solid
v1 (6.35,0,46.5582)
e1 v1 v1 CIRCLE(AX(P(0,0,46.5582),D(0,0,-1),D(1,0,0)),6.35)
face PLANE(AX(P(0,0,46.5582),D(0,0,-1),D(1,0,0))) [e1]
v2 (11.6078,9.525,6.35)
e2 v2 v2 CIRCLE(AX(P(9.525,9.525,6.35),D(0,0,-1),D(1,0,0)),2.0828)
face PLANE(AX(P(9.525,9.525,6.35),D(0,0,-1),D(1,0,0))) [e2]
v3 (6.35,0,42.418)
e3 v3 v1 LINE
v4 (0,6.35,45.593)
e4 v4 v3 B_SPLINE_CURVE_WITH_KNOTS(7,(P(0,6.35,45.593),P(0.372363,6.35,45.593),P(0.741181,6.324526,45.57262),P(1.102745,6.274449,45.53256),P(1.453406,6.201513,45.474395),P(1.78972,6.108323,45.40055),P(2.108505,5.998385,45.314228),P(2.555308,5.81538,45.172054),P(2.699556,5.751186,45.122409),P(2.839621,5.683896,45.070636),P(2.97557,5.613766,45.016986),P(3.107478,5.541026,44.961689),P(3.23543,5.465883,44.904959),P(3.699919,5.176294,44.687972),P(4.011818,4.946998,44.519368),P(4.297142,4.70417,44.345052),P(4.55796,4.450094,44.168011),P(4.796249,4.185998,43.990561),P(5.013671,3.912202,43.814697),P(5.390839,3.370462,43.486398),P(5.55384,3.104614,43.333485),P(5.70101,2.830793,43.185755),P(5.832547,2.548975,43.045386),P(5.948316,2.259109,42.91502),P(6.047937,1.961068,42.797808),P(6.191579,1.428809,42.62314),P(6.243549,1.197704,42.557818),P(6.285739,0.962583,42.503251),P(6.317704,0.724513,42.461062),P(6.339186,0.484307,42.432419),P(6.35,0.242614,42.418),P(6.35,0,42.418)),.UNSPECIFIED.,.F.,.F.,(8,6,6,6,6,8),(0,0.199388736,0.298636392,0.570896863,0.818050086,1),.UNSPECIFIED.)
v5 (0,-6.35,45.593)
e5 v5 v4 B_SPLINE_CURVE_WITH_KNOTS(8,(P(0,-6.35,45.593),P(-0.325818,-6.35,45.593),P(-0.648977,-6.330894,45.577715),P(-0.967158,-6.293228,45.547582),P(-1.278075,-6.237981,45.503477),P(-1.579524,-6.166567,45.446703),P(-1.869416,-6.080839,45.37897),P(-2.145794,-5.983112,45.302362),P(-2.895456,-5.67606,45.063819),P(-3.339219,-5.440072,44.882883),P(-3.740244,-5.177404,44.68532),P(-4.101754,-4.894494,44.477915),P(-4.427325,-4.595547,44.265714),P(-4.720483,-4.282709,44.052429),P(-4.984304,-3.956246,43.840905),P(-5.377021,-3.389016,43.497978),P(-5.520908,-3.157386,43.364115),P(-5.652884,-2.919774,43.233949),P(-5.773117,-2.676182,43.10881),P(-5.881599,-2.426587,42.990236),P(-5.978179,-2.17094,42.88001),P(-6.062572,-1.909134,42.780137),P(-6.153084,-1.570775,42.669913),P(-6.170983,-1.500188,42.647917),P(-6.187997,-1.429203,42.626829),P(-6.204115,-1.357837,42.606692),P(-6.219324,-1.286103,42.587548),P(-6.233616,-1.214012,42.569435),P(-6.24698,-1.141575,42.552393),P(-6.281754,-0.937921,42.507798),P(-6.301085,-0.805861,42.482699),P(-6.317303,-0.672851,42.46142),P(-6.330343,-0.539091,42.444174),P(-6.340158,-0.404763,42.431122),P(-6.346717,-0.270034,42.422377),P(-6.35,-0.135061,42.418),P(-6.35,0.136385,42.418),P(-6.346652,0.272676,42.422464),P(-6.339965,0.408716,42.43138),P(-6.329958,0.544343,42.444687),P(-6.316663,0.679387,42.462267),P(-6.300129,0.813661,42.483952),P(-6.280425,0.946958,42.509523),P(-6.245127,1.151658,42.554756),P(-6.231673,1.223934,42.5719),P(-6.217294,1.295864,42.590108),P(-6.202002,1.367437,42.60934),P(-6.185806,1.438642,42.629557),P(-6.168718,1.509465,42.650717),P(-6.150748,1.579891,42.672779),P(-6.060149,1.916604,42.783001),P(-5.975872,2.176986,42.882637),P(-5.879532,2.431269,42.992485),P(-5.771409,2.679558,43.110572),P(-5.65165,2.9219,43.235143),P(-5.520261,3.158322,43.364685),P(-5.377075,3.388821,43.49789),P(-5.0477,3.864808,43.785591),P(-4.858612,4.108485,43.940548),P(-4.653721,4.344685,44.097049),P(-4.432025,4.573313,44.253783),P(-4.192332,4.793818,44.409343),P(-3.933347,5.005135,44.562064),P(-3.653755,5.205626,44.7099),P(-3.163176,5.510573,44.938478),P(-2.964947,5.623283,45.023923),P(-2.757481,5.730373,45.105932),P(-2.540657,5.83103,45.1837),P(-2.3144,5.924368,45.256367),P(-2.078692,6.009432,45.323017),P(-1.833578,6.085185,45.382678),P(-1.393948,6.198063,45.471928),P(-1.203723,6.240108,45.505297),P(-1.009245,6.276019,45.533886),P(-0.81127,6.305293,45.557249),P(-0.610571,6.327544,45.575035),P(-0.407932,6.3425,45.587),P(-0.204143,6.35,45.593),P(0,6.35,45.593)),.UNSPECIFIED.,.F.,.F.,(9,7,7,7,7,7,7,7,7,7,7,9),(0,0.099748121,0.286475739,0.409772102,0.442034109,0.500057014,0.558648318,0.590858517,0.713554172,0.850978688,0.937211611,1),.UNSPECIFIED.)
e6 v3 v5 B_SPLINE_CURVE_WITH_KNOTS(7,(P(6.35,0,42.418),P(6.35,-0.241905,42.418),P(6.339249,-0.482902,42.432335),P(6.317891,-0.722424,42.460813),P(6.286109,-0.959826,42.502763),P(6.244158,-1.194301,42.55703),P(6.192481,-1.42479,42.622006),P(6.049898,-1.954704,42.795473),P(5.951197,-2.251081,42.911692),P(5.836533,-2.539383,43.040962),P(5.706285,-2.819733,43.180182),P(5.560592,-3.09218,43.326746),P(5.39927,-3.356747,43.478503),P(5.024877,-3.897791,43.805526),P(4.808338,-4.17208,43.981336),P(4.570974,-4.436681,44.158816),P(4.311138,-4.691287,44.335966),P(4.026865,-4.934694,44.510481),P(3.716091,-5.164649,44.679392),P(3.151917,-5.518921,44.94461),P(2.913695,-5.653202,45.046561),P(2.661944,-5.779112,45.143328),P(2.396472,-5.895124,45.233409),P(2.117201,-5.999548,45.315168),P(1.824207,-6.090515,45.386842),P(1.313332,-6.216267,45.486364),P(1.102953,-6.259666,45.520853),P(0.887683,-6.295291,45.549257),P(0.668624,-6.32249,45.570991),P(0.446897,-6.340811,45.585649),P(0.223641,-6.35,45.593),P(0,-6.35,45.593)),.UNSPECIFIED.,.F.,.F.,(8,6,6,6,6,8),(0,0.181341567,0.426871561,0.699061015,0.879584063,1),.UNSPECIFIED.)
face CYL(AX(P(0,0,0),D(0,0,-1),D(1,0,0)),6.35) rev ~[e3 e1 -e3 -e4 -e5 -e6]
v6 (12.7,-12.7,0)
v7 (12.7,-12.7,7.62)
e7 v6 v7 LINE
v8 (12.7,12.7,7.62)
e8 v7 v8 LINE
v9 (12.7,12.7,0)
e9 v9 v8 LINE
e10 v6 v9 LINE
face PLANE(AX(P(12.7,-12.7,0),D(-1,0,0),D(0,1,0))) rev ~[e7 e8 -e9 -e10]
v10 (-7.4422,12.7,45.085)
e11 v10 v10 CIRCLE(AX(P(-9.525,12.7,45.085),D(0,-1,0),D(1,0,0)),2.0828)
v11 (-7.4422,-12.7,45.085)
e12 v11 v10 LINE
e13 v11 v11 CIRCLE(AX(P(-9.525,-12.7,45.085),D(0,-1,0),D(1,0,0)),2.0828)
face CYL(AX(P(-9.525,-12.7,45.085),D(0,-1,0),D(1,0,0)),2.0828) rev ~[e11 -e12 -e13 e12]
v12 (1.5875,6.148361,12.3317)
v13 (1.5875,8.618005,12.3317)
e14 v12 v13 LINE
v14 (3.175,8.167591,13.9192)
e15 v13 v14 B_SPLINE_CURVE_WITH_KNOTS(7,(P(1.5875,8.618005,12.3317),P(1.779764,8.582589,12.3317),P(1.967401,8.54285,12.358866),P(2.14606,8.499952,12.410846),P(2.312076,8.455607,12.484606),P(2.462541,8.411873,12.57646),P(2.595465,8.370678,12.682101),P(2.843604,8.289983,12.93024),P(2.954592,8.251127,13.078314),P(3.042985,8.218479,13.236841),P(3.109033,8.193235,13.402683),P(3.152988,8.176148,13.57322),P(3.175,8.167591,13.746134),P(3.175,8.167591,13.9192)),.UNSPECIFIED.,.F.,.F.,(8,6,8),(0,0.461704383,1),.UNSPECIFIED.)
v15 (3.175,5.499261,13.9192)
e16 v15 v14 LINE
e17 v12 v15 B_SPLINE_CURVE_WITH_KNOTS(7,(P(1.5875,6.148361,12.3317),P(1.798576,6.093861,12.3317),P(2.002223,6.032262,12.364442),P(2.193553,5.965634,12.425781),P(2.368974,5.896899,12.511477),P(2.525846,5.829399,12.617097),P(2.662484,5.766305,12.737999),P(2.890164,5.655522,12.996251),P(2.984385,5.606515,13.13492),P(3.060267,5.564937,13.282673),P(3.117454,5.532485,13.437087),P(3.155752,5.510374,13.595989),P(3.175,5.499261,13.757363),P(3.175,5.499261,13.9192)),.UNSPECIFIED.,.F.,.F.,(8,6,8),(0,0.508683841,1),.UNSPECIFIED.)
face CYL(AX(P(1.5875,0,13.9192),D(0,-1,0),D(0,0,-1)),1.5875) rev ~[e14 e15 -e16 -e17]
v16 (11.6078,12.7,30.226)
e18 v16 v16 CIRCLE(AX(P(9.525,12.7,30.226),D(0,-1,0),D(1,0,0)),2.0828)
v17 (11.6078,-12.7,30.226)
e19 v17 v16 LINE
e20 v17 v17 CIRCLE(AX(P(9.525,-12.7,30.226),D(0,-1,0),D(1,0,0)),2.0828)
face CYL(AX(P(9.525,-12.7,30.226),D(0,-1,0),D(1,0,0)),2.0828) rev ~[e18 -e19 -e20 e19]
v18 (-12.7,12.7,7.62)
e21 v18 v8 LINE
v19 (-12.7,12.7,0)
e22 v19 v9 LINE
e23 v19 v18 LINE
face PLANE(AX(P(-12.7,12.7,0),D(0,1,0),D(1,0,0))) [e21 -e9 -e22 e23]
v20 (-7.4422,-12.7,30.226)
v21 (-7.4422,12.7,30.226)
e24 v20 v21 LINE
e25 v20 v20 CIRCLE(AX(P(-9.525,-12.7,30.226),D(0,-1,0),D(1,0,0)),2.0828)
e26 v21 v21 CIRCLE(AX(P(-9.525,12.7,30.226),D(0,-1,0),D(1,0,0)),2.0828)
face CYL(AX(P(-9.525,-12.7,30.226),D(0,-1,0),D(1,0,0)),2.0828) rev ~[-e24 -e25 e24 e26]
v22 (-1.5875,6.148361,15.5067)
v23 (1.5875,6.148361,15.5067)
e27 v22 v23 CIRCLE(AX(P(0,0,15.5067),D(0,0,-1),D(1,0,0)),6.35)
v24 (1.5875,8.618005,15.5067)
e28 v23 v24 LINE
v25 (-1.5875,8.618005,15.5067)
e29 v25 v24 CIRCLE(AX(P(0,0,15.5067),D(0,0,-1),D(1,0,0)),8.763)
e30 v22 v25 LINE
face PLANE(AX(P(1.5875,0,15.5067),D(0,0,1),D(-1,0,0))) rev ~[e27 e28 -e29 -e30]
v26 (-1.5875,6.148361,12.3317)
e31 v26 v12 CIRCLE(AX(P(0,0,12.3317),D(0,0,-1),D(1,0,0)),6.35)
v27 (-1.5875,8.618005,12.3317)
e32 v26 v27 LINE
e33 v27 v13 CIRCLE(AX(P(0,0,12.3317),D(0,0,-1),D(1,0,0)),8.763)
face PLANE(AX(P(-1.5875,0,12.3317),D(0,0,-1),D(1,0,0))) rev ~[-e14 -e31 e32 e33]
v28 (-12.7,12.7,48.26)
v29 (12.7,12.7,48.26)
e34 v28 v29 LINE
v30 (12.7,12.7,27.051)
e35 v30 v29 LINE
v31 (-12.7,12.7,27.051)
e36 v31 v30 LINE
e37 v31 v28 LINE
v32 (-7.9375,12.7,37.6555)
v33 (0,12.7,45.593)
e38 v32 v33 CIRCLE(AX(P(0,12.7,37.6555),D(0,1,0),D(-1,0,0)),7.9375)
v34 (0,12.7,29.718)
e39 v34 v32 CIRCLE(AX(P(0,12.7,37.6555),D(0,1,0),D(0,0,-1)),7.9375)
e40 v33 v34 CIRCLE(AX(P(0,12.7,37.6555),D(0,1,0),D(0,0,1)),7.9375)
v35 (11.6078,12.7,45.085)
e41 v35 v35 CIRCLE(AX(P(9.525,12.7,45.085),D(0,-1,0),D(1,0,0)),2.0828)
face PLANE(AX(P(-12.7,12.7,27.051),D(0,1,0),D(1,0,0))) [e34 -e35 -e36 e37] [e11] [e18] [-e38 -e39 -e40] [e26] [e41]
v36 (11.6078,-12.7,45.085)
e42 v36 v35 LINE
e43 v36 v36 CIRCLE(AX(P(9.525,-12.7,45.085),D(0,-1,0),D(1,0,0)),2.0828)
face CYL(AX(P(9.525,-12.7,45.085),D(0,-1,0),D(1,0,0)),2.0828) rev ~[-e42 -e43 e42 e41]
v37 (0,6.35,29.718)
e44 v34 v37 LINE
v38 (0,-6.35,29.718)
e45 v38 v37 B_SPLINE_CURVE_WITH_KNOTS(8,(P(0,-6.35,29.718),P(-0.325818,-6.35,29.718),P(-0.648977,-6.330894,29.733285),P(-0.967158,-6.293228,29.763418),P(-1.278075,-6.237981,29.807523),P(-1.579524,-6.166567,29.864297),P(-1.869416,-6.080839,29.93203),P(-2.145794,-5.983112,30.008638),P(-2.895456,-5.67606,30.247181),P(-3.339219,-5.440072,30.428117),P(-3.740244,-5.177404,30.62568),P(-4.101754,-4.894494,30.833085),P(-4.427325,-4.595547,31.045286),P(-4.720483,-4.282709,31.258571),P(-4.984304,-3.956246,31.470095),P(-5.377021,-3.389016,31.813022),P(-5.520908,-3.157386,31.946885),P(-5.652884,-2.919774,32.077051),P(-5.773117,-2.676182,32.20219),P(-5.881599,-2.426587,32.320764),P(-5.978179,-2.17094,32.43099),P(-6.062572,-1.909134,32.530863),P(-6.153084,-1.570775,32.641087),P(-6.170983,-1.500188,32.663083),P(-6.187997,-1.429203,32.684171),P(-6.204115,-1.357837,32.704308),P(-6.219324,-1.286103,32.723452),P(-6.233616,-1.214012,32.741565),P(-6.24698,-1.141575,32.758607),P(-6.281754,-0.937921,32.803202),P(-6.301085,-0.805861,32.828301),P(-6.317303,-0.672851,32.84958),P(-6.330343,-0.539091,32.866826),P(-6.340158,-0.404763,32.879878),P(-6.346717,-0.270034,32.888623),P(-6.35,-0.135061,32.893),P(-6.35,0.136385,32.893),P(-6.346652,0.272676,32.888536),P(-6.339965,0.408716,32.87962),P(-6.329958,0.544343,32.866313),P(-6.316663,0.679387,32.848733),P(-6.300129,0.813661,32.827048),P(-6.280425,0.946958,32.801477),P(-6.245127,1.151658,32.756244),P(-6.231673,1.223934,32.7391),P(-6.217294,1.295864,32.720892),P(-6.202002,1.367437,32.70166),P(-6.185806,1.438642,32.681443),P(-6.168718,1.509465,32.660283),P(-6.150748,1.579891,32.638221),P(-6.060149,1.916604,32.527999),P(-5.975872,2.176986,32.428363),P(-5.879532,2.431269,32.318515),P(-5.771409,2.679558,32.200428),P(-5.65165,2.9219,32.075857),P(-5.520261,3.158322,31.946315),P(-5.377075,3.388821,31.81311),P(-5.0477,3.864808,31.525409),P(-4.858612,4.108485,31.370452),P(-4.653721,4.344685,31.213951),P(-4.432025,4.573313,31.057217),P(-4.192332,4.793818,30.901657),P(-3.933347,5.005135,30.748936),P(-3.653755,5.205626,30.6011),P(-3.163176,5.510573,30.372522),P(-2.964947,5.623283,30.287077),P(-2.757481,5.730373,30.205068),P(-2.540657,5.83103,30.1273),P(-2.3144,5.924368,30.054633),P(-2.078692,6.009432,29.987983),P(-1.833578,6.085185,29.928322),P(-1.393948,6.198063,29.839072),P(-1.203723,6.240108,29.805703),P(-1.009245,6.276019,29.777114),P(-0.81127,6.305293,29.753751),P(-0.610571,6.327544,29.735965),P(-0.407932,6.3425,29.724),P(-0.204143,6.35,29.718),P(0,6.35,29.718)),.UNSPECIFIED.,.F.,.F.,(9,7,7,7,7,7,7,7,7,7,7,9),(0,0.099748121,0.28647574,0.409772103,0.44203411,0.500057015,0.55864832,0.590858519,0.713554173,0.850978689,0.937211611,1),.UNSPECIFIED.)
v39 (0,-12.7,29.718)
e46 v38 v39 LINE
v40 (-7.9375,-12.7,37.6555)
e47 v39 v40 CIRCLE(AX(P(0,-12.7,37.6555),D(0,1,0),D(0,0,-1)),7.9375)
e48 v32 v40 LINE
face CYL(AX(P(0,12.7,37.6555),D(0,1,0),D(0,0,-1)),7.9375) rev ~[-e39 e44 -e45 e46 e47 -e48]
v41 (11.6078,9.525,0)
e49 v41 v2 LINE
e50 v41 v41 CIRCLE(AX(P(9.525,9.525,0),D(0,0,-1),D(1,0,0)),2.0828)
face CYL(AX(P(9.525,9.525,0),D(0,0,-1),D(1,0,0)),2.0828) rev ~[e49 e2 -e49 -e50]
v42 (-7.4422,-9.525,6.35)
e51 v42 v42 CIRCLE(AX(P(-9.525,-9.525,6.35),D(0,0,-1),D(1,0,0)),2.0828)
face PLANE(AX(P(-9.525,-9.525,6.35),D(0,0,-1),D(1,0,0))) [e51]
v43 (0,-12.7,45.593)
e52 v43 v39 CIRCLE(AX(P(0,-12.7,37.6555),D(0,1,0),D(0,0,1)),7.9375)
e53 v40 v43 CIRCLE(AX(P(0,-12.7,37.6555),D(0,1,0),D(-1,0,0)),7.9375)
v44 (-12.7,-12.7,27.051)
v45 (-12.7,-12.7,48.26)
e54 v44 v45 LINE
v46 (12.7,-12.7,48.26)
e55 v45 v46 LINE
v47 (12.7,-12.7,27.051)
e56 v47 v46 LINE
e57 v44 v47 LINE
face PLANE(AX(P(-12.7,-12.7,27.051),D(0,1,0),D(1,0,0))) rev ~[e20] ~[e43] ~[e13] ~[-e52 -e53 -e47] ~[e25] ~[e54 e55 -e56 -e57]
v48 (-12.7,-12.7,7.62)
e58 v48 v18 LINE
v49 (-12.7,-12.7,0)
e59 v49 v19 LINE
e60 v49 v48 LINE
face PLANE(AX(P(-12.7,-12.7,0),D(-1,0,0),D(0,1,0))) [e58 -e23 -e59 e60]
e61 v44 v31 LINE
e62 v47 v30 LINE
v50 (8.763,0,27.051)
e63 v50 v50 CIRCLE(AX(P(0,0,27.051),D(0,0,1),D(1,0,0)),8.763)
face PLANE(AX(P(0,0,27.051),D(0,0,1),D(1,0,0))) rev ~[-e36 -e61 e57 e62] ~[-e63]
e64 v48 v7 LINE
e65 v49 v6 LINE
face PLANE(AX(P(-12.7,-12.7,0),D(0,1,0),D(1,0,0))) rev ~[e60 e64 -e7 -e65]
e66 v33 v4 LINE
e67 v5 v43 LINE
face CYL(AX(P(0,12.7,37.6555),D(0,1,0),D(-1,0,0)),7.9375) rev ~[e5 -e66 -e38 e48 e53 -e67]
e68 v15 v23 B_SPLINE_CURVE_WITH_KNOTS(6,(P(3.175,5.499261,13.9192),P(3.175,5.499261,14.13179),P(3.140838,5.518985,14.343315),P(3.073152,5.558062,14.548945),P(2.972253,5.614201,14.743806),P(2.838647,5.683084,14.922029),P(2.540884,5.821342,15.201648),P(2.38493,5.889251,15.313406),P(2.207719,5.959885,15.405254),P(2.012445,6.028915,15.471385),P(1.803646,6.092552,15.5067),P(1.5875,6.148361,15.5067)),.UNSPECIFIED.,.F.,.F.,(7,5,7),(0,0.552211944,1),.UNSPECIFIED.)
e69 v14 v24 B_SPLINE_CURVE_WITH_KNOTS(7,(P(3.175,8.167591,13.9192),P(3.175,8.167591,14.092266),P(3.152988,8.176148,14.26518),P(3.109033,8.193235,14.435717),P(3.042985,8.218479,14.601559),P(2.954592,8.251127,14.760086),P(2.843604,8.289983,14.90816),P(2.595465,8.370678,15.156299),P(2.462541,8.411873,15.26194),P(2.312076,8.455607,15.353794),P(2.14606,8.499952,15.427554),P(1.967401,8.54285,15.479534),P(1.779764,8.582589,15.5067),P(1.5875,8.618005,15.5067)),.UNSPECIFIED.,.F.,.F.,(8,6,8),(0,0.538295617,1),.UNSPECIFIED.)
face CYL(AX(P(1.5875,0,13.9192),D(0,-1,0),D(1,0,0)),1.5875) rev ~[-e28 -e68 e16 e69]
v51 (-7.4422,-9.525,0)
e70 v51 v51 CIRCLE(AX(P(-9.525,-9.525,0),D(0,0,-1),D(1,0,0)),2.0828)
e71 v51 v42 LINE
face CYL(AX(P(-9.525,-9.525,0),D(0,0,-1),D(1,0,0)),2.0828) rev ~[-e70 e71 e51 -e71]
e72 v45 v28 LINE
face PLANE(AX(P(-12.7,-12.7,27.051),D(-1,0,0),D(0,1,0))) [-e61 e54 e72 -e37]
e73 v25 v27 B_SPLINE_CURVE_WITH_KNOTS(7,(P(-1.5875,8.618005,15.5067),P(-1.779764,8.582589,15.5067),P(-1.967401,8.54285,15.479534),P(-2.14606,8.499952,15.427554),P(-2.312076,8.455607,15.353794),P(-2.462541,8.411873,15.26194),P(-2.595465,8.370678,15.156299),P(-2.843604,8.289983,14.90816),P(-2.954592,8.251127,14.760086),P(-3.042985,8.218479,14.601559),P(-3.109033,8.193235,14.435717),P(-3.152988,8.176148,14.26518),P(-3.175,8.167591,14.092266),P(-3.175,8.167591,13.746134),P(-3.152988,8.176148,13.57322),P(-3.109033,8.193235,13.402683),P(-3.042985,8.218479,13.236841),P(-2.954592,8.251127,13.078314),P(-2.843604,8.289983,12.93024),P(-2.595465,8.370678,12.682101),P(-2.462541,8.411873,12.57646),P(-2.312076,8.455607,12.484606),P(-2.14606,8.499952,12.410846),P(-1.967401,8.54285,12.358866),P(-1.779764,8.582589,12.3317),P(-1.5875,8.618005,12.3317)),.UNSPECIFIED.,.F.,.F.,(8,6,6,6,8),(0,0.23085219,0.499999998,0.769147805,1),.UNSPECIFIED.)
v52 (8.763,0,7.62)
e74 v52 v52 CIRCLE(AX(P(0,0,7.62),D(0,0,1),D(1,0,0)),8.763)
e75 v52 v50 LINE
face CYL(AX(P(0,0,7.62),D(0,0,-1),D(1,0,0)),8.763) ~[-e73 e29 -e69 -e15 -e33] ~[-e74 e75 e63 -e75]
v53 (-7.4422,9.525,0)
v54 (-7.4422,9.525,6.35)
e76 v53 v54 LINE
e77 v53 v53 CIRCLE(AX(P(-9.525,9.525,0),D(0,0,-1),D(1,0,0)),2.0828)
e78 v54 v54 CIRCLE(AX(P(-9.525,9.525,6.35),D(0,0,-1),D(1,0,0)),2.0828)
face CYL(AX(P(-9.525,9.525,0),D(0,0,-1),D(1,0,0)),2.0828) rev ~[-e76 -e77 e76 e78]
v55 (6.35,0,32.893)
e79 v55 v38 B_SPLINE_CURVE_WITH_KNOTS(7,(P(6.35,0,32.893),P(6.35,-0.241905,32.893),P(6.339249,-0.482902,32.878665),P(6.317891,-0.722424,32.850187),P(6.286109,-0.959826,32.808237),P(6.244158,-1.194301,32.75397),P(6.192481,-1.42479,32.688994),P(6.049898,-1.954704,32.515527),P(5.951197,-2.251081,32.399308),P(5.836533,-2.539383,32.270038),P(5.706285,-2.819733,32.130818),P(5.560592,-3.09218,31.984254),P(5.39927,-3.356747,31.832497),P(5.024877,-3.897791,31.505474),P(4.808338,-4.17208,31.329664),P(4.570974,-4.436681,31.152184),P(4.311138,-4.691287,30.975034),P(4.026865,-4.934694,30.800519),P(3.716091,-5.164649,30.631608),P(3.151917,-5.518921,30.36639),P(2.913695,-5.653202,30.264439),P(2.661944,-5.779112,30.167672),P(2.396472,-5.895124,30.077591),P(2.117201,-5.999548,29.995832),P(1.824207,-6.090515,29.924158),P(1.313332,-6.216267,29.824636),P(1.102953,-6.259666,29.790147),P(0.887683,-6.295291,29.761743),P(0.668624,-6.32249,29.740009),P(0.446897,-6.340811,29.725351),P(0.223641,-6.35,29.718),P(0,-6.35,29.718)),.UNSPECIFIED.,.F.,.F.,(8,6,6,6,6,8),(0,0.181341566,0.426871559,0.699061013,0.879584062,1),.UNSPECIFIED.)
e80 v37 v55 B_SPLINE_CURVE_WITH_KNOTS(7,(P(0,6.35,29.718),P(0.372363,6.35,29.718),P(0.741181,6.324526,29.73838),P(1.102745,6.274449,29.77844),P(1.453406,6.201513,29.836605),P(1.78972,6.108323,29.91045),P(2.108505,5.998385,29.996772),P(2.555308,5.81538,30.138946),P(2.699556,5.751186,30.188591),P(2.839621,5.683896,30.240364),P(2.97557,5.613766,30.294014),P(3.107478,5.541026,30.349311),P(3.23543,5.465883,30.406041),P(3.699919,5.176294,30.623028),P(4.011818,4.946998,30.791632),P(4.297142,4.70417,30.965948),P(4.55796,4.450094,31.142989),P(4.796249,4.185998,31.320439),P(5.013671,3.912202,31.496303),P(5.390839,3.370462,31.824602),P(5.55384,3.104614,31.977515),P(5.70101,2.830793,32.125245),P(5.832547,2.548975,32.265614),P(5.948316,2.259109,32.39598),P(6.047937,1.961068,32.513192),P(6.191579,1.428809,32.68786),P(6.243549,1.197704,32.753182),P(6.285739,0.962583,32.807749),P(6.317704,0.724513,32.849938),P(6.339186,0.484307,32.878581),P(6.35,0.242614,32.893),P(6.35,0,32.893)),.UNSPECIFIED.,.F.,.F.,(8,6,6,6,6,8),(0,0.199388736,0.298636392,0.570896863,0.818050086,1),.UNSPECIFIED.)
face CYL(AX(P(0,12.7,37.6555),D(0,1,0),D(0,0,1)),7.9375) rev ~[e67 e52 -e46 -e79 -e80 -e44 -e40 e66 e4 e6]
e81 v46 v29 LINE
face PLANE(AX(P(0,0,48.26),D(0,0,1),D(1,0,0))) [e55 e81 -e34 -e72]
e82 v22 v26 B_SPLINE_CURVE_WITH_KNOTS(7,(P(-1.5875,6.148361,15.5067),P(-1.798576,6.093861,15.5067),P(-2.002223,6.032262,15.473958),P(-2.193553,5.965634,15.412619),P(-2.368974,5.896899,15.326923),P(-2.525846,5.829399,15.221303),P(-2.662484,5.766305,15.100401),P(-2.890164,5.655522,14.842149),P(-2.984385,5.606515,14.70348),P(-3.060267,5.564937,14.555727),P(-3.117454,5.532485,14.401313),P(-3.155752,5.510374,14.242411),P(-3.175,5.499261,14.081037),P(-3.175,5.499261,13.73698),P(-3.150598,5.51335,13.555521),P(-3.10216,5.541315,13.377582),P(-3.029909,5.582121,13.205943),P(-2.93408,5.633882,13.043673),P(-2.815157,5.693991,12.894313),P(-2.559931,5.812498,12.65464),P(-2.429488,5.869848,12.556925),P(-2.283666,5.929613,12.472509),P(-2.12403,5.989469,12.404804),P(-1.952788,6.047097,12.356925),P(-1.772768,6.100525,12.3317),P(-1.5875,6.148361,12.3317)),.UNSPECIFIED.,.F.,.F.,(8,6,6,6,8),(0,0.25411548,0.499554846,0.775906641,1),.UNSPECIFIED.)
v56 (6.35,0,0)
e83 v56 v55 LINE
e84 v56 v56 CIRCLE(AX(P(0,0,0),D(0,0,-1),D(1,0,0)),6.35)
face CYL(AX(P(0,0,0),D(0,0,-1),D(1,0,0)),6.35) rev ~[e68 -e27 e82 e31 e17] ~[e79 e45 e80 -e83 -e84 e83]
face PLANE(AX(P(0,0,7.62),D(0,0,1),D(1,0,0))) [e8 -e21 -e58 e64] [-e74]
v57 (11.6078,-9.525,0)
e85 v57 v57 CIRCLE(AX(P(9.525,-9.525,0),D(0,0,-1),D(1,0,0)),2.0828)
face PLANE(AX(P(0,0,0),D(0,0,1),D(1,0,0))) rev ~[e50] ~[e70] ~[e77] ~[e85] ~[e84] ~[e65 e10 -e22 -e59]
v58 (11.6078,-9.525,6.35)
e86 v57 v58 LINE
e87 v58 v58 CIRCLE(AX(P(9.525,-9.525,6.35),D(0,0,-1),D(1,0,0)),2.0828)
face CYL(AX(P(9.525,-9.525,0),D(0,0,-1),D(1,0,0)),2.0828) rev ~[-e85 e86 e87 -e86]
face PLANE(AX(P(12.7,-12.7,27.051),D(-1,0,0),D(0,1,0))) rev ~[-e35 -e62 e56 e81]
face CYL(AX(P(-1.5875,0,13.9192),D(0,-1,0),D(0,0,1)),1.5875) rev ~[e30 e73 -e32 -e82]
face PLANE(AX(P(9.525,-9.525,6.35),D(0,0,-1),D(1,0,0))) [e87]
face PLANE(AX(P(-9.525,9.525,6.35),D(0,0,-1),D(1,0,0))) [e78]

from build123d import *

# Parameters (mm, degrees)
F0_W      = 25.4
F0_H      = 25.4
F1_DEPTH  = 7.62
F2_R      = 8.763
F3_DEPTH  = 19.431
F4_W      = 25.4
F4_H      = 25.4
F5_DEPTH  = 21.209
F6_R      = 6.35
F7_DEPTH  = 46.5582
F8_R      = 2.0828
F9_DEPTH  = 25.401
F11_DEPTH = 25.401
F13_DEPTH = 25.4
F14_R     = 2.0828
F15_DEPTH = 6.35


with BuildPart() as f1:
    # F0 (on Top) → F1 (new body)
    with BuildSketch(Plane.XY):
        Rectangle(F0_W, F0_H)
    extrude(amount=F1_DEPTH)

    # F2 (on face) → F3 (join)
    with BuildSketch(Plane.XY.offset(7.62)):
        Circle(F2_R)
    extrude(amount=F3_DEPTH)

    # F4 (on face) → F5 (join)
    with BuildSketch(Plane.XY.offset(27.051)):
        Rectangle(F4_W, F4_H)
    extrude(amount=F5_DEPTH)

    # F6 (on face) → F7 (cut)
    with BuildSketch(Plane(origin=(0, 0, 0), x_dir=(1, 0, 0), z_dir=(0, 0, -1))):
        Circle(F6_R)
    extrude(amount=-F7_DEPTH, mode=Mode.SUBTRACT)

    # F8 (on face) → F9 (cut, through all)
    with BuildSketch(Plane.XZ.offset(12.7)):
        with Locations((-9.525, 45.085)):
            Circle(F8_R)
        with Locations((9.525, 45.085)):
            Circle(F8_R)
        with Locations((-9.525, 30.226)):
            Circle(F8_R)
        with Locations((9.525, 30.226)):
            Circle(F8_R)
    extrude(amount=-F9_DEPTH, mode=Mode.SUBTRACT)

    # F10 (on face) → F11 (cut, through all)
    with BuildSketch(Plane(origin=(0, 12.7, 0), x_dir=(-1, 0, 0), z_dir=(0, 1, 0))):
        with BuildLine():
            ThreePointArc((7.9375, 37.6555), (5.6126600757, 43.2681600757), (0, 45.593))
            Line((0, 45.593), (0, 29.718))
            ThreePointArc((0, 29.718), (5.6126600757, 32.0428399243), (7.9375, 37.6555))
        make_face()
        with BuildLine():
            Line((0, 29.718), (0, 45.593))
            ThreePointArc((0, 45.593), (-7.9375, 37.6555), (0, 29.718))
        make_face()
    extrude(amount=-F11_DEPTH, mode=Mode.SUBTRACT)

    # F12 (on Front) → F13 (cut)
    with BuildSketch(Plane.XZ):
        with BuildLine():
            Line((-1.5875, 12.3317), (0, 12.3317))
            Line((0, 12.3317), (0, 13.9192))
            ThreePointArc((0, 13.9192), (-0.4649679849, 12.7966679849), (-1.5875, 12.3317))
        make_face()
        with BuildLine():
            Line((0, 13.9192), (0, 12.3317))
            Line((0, 12.3317), (1.5875, 12.3317))
            ThreePointArc((1.5875, 12.3317), (0.4649679849, 12.7966679849), (0, 13.9192))
        make_face()
        with BuildLine():
            ThreePointArc((1.5875, 15.5067), (0.4649679849, 15.0417320151), (0, 13.9192))
            Line((0, 13.9192), (1.5875, 13.9192))
            Line((1.5875, 13.9192), (1.5875, 15.5067))
        make_face()
        with BuildLine():
            ThreePointArc((-1.5875, 15.5067), (-0.4649679849, 15.0417320151), (0, 13.9192))
            ThreePointArc((0, 13.9192), (0.4649679849, 15.0417320151), (1.5875, 15.5067))
            Line((1.5875, 15.5067), (-1.5875, 15.5067))
        make_face()
        with BuildLine():
            Line((1.5875, 13.9192), (0, 13.9192))
            ThreePointArc((0, 13.9192), (0.4649679849, 12.7966679849), (1.5875, 12.3317))
            Line((1.5875, 12.3317), (1.5875, 13.9192))
        make_face()
        with BuildLine():
            ThreePointArc((-1.5875, 12.3317), (-0.4649679849, 12.7966679849), (0, 13.9192))
            ThreePointArc((0, 13.9192), (-0.4649679849, 15.0417320151), (-1.5875, 15.5067))
            ThreePointArc((-1.5875, 15.5067), (-3.175, 13.9192), (-1.5875, 12.3317))
        make_face()
        with BuildLine():
            Line((1.5875, 13.9192), (1.5875, 12.3317))
            ThreePointArc((1.5875, 12.3317), (2.7100320151, 12.7966679849), (3.175, 13.9192))
            ThreePointArc((3.175, 13.9192), (2.7100320151, 15.0417320151), (1.5875, 15.5067))
            Line((1.5875, 15.5067), (1.5875, 13.9192))
        make_face()
    extrude(amount=-F13_DEPTH, mode=Mode.SUBTRACT)

    # F14 (on face) → F15 (cut)
    with BuildSketch(Plane(origin=(0, 0, 0), x_dir=(1, 0, 0), z_dir=(0, 0, -1))):
        with Locations((-9.525, 9.525)):
            Circle(F14_R)
        with Locations((-9.525, -9.525)):
            Circle(F14_R)
        with Locations((9.525, 9.525)):
            Circle(F14_R)
        with Locations((9.525, -9.525)):
            Circle(F14_R)
    extrude(amount=-F15_DEPTH, mode=Mode.SUBTRACT)


solid = f1.part
